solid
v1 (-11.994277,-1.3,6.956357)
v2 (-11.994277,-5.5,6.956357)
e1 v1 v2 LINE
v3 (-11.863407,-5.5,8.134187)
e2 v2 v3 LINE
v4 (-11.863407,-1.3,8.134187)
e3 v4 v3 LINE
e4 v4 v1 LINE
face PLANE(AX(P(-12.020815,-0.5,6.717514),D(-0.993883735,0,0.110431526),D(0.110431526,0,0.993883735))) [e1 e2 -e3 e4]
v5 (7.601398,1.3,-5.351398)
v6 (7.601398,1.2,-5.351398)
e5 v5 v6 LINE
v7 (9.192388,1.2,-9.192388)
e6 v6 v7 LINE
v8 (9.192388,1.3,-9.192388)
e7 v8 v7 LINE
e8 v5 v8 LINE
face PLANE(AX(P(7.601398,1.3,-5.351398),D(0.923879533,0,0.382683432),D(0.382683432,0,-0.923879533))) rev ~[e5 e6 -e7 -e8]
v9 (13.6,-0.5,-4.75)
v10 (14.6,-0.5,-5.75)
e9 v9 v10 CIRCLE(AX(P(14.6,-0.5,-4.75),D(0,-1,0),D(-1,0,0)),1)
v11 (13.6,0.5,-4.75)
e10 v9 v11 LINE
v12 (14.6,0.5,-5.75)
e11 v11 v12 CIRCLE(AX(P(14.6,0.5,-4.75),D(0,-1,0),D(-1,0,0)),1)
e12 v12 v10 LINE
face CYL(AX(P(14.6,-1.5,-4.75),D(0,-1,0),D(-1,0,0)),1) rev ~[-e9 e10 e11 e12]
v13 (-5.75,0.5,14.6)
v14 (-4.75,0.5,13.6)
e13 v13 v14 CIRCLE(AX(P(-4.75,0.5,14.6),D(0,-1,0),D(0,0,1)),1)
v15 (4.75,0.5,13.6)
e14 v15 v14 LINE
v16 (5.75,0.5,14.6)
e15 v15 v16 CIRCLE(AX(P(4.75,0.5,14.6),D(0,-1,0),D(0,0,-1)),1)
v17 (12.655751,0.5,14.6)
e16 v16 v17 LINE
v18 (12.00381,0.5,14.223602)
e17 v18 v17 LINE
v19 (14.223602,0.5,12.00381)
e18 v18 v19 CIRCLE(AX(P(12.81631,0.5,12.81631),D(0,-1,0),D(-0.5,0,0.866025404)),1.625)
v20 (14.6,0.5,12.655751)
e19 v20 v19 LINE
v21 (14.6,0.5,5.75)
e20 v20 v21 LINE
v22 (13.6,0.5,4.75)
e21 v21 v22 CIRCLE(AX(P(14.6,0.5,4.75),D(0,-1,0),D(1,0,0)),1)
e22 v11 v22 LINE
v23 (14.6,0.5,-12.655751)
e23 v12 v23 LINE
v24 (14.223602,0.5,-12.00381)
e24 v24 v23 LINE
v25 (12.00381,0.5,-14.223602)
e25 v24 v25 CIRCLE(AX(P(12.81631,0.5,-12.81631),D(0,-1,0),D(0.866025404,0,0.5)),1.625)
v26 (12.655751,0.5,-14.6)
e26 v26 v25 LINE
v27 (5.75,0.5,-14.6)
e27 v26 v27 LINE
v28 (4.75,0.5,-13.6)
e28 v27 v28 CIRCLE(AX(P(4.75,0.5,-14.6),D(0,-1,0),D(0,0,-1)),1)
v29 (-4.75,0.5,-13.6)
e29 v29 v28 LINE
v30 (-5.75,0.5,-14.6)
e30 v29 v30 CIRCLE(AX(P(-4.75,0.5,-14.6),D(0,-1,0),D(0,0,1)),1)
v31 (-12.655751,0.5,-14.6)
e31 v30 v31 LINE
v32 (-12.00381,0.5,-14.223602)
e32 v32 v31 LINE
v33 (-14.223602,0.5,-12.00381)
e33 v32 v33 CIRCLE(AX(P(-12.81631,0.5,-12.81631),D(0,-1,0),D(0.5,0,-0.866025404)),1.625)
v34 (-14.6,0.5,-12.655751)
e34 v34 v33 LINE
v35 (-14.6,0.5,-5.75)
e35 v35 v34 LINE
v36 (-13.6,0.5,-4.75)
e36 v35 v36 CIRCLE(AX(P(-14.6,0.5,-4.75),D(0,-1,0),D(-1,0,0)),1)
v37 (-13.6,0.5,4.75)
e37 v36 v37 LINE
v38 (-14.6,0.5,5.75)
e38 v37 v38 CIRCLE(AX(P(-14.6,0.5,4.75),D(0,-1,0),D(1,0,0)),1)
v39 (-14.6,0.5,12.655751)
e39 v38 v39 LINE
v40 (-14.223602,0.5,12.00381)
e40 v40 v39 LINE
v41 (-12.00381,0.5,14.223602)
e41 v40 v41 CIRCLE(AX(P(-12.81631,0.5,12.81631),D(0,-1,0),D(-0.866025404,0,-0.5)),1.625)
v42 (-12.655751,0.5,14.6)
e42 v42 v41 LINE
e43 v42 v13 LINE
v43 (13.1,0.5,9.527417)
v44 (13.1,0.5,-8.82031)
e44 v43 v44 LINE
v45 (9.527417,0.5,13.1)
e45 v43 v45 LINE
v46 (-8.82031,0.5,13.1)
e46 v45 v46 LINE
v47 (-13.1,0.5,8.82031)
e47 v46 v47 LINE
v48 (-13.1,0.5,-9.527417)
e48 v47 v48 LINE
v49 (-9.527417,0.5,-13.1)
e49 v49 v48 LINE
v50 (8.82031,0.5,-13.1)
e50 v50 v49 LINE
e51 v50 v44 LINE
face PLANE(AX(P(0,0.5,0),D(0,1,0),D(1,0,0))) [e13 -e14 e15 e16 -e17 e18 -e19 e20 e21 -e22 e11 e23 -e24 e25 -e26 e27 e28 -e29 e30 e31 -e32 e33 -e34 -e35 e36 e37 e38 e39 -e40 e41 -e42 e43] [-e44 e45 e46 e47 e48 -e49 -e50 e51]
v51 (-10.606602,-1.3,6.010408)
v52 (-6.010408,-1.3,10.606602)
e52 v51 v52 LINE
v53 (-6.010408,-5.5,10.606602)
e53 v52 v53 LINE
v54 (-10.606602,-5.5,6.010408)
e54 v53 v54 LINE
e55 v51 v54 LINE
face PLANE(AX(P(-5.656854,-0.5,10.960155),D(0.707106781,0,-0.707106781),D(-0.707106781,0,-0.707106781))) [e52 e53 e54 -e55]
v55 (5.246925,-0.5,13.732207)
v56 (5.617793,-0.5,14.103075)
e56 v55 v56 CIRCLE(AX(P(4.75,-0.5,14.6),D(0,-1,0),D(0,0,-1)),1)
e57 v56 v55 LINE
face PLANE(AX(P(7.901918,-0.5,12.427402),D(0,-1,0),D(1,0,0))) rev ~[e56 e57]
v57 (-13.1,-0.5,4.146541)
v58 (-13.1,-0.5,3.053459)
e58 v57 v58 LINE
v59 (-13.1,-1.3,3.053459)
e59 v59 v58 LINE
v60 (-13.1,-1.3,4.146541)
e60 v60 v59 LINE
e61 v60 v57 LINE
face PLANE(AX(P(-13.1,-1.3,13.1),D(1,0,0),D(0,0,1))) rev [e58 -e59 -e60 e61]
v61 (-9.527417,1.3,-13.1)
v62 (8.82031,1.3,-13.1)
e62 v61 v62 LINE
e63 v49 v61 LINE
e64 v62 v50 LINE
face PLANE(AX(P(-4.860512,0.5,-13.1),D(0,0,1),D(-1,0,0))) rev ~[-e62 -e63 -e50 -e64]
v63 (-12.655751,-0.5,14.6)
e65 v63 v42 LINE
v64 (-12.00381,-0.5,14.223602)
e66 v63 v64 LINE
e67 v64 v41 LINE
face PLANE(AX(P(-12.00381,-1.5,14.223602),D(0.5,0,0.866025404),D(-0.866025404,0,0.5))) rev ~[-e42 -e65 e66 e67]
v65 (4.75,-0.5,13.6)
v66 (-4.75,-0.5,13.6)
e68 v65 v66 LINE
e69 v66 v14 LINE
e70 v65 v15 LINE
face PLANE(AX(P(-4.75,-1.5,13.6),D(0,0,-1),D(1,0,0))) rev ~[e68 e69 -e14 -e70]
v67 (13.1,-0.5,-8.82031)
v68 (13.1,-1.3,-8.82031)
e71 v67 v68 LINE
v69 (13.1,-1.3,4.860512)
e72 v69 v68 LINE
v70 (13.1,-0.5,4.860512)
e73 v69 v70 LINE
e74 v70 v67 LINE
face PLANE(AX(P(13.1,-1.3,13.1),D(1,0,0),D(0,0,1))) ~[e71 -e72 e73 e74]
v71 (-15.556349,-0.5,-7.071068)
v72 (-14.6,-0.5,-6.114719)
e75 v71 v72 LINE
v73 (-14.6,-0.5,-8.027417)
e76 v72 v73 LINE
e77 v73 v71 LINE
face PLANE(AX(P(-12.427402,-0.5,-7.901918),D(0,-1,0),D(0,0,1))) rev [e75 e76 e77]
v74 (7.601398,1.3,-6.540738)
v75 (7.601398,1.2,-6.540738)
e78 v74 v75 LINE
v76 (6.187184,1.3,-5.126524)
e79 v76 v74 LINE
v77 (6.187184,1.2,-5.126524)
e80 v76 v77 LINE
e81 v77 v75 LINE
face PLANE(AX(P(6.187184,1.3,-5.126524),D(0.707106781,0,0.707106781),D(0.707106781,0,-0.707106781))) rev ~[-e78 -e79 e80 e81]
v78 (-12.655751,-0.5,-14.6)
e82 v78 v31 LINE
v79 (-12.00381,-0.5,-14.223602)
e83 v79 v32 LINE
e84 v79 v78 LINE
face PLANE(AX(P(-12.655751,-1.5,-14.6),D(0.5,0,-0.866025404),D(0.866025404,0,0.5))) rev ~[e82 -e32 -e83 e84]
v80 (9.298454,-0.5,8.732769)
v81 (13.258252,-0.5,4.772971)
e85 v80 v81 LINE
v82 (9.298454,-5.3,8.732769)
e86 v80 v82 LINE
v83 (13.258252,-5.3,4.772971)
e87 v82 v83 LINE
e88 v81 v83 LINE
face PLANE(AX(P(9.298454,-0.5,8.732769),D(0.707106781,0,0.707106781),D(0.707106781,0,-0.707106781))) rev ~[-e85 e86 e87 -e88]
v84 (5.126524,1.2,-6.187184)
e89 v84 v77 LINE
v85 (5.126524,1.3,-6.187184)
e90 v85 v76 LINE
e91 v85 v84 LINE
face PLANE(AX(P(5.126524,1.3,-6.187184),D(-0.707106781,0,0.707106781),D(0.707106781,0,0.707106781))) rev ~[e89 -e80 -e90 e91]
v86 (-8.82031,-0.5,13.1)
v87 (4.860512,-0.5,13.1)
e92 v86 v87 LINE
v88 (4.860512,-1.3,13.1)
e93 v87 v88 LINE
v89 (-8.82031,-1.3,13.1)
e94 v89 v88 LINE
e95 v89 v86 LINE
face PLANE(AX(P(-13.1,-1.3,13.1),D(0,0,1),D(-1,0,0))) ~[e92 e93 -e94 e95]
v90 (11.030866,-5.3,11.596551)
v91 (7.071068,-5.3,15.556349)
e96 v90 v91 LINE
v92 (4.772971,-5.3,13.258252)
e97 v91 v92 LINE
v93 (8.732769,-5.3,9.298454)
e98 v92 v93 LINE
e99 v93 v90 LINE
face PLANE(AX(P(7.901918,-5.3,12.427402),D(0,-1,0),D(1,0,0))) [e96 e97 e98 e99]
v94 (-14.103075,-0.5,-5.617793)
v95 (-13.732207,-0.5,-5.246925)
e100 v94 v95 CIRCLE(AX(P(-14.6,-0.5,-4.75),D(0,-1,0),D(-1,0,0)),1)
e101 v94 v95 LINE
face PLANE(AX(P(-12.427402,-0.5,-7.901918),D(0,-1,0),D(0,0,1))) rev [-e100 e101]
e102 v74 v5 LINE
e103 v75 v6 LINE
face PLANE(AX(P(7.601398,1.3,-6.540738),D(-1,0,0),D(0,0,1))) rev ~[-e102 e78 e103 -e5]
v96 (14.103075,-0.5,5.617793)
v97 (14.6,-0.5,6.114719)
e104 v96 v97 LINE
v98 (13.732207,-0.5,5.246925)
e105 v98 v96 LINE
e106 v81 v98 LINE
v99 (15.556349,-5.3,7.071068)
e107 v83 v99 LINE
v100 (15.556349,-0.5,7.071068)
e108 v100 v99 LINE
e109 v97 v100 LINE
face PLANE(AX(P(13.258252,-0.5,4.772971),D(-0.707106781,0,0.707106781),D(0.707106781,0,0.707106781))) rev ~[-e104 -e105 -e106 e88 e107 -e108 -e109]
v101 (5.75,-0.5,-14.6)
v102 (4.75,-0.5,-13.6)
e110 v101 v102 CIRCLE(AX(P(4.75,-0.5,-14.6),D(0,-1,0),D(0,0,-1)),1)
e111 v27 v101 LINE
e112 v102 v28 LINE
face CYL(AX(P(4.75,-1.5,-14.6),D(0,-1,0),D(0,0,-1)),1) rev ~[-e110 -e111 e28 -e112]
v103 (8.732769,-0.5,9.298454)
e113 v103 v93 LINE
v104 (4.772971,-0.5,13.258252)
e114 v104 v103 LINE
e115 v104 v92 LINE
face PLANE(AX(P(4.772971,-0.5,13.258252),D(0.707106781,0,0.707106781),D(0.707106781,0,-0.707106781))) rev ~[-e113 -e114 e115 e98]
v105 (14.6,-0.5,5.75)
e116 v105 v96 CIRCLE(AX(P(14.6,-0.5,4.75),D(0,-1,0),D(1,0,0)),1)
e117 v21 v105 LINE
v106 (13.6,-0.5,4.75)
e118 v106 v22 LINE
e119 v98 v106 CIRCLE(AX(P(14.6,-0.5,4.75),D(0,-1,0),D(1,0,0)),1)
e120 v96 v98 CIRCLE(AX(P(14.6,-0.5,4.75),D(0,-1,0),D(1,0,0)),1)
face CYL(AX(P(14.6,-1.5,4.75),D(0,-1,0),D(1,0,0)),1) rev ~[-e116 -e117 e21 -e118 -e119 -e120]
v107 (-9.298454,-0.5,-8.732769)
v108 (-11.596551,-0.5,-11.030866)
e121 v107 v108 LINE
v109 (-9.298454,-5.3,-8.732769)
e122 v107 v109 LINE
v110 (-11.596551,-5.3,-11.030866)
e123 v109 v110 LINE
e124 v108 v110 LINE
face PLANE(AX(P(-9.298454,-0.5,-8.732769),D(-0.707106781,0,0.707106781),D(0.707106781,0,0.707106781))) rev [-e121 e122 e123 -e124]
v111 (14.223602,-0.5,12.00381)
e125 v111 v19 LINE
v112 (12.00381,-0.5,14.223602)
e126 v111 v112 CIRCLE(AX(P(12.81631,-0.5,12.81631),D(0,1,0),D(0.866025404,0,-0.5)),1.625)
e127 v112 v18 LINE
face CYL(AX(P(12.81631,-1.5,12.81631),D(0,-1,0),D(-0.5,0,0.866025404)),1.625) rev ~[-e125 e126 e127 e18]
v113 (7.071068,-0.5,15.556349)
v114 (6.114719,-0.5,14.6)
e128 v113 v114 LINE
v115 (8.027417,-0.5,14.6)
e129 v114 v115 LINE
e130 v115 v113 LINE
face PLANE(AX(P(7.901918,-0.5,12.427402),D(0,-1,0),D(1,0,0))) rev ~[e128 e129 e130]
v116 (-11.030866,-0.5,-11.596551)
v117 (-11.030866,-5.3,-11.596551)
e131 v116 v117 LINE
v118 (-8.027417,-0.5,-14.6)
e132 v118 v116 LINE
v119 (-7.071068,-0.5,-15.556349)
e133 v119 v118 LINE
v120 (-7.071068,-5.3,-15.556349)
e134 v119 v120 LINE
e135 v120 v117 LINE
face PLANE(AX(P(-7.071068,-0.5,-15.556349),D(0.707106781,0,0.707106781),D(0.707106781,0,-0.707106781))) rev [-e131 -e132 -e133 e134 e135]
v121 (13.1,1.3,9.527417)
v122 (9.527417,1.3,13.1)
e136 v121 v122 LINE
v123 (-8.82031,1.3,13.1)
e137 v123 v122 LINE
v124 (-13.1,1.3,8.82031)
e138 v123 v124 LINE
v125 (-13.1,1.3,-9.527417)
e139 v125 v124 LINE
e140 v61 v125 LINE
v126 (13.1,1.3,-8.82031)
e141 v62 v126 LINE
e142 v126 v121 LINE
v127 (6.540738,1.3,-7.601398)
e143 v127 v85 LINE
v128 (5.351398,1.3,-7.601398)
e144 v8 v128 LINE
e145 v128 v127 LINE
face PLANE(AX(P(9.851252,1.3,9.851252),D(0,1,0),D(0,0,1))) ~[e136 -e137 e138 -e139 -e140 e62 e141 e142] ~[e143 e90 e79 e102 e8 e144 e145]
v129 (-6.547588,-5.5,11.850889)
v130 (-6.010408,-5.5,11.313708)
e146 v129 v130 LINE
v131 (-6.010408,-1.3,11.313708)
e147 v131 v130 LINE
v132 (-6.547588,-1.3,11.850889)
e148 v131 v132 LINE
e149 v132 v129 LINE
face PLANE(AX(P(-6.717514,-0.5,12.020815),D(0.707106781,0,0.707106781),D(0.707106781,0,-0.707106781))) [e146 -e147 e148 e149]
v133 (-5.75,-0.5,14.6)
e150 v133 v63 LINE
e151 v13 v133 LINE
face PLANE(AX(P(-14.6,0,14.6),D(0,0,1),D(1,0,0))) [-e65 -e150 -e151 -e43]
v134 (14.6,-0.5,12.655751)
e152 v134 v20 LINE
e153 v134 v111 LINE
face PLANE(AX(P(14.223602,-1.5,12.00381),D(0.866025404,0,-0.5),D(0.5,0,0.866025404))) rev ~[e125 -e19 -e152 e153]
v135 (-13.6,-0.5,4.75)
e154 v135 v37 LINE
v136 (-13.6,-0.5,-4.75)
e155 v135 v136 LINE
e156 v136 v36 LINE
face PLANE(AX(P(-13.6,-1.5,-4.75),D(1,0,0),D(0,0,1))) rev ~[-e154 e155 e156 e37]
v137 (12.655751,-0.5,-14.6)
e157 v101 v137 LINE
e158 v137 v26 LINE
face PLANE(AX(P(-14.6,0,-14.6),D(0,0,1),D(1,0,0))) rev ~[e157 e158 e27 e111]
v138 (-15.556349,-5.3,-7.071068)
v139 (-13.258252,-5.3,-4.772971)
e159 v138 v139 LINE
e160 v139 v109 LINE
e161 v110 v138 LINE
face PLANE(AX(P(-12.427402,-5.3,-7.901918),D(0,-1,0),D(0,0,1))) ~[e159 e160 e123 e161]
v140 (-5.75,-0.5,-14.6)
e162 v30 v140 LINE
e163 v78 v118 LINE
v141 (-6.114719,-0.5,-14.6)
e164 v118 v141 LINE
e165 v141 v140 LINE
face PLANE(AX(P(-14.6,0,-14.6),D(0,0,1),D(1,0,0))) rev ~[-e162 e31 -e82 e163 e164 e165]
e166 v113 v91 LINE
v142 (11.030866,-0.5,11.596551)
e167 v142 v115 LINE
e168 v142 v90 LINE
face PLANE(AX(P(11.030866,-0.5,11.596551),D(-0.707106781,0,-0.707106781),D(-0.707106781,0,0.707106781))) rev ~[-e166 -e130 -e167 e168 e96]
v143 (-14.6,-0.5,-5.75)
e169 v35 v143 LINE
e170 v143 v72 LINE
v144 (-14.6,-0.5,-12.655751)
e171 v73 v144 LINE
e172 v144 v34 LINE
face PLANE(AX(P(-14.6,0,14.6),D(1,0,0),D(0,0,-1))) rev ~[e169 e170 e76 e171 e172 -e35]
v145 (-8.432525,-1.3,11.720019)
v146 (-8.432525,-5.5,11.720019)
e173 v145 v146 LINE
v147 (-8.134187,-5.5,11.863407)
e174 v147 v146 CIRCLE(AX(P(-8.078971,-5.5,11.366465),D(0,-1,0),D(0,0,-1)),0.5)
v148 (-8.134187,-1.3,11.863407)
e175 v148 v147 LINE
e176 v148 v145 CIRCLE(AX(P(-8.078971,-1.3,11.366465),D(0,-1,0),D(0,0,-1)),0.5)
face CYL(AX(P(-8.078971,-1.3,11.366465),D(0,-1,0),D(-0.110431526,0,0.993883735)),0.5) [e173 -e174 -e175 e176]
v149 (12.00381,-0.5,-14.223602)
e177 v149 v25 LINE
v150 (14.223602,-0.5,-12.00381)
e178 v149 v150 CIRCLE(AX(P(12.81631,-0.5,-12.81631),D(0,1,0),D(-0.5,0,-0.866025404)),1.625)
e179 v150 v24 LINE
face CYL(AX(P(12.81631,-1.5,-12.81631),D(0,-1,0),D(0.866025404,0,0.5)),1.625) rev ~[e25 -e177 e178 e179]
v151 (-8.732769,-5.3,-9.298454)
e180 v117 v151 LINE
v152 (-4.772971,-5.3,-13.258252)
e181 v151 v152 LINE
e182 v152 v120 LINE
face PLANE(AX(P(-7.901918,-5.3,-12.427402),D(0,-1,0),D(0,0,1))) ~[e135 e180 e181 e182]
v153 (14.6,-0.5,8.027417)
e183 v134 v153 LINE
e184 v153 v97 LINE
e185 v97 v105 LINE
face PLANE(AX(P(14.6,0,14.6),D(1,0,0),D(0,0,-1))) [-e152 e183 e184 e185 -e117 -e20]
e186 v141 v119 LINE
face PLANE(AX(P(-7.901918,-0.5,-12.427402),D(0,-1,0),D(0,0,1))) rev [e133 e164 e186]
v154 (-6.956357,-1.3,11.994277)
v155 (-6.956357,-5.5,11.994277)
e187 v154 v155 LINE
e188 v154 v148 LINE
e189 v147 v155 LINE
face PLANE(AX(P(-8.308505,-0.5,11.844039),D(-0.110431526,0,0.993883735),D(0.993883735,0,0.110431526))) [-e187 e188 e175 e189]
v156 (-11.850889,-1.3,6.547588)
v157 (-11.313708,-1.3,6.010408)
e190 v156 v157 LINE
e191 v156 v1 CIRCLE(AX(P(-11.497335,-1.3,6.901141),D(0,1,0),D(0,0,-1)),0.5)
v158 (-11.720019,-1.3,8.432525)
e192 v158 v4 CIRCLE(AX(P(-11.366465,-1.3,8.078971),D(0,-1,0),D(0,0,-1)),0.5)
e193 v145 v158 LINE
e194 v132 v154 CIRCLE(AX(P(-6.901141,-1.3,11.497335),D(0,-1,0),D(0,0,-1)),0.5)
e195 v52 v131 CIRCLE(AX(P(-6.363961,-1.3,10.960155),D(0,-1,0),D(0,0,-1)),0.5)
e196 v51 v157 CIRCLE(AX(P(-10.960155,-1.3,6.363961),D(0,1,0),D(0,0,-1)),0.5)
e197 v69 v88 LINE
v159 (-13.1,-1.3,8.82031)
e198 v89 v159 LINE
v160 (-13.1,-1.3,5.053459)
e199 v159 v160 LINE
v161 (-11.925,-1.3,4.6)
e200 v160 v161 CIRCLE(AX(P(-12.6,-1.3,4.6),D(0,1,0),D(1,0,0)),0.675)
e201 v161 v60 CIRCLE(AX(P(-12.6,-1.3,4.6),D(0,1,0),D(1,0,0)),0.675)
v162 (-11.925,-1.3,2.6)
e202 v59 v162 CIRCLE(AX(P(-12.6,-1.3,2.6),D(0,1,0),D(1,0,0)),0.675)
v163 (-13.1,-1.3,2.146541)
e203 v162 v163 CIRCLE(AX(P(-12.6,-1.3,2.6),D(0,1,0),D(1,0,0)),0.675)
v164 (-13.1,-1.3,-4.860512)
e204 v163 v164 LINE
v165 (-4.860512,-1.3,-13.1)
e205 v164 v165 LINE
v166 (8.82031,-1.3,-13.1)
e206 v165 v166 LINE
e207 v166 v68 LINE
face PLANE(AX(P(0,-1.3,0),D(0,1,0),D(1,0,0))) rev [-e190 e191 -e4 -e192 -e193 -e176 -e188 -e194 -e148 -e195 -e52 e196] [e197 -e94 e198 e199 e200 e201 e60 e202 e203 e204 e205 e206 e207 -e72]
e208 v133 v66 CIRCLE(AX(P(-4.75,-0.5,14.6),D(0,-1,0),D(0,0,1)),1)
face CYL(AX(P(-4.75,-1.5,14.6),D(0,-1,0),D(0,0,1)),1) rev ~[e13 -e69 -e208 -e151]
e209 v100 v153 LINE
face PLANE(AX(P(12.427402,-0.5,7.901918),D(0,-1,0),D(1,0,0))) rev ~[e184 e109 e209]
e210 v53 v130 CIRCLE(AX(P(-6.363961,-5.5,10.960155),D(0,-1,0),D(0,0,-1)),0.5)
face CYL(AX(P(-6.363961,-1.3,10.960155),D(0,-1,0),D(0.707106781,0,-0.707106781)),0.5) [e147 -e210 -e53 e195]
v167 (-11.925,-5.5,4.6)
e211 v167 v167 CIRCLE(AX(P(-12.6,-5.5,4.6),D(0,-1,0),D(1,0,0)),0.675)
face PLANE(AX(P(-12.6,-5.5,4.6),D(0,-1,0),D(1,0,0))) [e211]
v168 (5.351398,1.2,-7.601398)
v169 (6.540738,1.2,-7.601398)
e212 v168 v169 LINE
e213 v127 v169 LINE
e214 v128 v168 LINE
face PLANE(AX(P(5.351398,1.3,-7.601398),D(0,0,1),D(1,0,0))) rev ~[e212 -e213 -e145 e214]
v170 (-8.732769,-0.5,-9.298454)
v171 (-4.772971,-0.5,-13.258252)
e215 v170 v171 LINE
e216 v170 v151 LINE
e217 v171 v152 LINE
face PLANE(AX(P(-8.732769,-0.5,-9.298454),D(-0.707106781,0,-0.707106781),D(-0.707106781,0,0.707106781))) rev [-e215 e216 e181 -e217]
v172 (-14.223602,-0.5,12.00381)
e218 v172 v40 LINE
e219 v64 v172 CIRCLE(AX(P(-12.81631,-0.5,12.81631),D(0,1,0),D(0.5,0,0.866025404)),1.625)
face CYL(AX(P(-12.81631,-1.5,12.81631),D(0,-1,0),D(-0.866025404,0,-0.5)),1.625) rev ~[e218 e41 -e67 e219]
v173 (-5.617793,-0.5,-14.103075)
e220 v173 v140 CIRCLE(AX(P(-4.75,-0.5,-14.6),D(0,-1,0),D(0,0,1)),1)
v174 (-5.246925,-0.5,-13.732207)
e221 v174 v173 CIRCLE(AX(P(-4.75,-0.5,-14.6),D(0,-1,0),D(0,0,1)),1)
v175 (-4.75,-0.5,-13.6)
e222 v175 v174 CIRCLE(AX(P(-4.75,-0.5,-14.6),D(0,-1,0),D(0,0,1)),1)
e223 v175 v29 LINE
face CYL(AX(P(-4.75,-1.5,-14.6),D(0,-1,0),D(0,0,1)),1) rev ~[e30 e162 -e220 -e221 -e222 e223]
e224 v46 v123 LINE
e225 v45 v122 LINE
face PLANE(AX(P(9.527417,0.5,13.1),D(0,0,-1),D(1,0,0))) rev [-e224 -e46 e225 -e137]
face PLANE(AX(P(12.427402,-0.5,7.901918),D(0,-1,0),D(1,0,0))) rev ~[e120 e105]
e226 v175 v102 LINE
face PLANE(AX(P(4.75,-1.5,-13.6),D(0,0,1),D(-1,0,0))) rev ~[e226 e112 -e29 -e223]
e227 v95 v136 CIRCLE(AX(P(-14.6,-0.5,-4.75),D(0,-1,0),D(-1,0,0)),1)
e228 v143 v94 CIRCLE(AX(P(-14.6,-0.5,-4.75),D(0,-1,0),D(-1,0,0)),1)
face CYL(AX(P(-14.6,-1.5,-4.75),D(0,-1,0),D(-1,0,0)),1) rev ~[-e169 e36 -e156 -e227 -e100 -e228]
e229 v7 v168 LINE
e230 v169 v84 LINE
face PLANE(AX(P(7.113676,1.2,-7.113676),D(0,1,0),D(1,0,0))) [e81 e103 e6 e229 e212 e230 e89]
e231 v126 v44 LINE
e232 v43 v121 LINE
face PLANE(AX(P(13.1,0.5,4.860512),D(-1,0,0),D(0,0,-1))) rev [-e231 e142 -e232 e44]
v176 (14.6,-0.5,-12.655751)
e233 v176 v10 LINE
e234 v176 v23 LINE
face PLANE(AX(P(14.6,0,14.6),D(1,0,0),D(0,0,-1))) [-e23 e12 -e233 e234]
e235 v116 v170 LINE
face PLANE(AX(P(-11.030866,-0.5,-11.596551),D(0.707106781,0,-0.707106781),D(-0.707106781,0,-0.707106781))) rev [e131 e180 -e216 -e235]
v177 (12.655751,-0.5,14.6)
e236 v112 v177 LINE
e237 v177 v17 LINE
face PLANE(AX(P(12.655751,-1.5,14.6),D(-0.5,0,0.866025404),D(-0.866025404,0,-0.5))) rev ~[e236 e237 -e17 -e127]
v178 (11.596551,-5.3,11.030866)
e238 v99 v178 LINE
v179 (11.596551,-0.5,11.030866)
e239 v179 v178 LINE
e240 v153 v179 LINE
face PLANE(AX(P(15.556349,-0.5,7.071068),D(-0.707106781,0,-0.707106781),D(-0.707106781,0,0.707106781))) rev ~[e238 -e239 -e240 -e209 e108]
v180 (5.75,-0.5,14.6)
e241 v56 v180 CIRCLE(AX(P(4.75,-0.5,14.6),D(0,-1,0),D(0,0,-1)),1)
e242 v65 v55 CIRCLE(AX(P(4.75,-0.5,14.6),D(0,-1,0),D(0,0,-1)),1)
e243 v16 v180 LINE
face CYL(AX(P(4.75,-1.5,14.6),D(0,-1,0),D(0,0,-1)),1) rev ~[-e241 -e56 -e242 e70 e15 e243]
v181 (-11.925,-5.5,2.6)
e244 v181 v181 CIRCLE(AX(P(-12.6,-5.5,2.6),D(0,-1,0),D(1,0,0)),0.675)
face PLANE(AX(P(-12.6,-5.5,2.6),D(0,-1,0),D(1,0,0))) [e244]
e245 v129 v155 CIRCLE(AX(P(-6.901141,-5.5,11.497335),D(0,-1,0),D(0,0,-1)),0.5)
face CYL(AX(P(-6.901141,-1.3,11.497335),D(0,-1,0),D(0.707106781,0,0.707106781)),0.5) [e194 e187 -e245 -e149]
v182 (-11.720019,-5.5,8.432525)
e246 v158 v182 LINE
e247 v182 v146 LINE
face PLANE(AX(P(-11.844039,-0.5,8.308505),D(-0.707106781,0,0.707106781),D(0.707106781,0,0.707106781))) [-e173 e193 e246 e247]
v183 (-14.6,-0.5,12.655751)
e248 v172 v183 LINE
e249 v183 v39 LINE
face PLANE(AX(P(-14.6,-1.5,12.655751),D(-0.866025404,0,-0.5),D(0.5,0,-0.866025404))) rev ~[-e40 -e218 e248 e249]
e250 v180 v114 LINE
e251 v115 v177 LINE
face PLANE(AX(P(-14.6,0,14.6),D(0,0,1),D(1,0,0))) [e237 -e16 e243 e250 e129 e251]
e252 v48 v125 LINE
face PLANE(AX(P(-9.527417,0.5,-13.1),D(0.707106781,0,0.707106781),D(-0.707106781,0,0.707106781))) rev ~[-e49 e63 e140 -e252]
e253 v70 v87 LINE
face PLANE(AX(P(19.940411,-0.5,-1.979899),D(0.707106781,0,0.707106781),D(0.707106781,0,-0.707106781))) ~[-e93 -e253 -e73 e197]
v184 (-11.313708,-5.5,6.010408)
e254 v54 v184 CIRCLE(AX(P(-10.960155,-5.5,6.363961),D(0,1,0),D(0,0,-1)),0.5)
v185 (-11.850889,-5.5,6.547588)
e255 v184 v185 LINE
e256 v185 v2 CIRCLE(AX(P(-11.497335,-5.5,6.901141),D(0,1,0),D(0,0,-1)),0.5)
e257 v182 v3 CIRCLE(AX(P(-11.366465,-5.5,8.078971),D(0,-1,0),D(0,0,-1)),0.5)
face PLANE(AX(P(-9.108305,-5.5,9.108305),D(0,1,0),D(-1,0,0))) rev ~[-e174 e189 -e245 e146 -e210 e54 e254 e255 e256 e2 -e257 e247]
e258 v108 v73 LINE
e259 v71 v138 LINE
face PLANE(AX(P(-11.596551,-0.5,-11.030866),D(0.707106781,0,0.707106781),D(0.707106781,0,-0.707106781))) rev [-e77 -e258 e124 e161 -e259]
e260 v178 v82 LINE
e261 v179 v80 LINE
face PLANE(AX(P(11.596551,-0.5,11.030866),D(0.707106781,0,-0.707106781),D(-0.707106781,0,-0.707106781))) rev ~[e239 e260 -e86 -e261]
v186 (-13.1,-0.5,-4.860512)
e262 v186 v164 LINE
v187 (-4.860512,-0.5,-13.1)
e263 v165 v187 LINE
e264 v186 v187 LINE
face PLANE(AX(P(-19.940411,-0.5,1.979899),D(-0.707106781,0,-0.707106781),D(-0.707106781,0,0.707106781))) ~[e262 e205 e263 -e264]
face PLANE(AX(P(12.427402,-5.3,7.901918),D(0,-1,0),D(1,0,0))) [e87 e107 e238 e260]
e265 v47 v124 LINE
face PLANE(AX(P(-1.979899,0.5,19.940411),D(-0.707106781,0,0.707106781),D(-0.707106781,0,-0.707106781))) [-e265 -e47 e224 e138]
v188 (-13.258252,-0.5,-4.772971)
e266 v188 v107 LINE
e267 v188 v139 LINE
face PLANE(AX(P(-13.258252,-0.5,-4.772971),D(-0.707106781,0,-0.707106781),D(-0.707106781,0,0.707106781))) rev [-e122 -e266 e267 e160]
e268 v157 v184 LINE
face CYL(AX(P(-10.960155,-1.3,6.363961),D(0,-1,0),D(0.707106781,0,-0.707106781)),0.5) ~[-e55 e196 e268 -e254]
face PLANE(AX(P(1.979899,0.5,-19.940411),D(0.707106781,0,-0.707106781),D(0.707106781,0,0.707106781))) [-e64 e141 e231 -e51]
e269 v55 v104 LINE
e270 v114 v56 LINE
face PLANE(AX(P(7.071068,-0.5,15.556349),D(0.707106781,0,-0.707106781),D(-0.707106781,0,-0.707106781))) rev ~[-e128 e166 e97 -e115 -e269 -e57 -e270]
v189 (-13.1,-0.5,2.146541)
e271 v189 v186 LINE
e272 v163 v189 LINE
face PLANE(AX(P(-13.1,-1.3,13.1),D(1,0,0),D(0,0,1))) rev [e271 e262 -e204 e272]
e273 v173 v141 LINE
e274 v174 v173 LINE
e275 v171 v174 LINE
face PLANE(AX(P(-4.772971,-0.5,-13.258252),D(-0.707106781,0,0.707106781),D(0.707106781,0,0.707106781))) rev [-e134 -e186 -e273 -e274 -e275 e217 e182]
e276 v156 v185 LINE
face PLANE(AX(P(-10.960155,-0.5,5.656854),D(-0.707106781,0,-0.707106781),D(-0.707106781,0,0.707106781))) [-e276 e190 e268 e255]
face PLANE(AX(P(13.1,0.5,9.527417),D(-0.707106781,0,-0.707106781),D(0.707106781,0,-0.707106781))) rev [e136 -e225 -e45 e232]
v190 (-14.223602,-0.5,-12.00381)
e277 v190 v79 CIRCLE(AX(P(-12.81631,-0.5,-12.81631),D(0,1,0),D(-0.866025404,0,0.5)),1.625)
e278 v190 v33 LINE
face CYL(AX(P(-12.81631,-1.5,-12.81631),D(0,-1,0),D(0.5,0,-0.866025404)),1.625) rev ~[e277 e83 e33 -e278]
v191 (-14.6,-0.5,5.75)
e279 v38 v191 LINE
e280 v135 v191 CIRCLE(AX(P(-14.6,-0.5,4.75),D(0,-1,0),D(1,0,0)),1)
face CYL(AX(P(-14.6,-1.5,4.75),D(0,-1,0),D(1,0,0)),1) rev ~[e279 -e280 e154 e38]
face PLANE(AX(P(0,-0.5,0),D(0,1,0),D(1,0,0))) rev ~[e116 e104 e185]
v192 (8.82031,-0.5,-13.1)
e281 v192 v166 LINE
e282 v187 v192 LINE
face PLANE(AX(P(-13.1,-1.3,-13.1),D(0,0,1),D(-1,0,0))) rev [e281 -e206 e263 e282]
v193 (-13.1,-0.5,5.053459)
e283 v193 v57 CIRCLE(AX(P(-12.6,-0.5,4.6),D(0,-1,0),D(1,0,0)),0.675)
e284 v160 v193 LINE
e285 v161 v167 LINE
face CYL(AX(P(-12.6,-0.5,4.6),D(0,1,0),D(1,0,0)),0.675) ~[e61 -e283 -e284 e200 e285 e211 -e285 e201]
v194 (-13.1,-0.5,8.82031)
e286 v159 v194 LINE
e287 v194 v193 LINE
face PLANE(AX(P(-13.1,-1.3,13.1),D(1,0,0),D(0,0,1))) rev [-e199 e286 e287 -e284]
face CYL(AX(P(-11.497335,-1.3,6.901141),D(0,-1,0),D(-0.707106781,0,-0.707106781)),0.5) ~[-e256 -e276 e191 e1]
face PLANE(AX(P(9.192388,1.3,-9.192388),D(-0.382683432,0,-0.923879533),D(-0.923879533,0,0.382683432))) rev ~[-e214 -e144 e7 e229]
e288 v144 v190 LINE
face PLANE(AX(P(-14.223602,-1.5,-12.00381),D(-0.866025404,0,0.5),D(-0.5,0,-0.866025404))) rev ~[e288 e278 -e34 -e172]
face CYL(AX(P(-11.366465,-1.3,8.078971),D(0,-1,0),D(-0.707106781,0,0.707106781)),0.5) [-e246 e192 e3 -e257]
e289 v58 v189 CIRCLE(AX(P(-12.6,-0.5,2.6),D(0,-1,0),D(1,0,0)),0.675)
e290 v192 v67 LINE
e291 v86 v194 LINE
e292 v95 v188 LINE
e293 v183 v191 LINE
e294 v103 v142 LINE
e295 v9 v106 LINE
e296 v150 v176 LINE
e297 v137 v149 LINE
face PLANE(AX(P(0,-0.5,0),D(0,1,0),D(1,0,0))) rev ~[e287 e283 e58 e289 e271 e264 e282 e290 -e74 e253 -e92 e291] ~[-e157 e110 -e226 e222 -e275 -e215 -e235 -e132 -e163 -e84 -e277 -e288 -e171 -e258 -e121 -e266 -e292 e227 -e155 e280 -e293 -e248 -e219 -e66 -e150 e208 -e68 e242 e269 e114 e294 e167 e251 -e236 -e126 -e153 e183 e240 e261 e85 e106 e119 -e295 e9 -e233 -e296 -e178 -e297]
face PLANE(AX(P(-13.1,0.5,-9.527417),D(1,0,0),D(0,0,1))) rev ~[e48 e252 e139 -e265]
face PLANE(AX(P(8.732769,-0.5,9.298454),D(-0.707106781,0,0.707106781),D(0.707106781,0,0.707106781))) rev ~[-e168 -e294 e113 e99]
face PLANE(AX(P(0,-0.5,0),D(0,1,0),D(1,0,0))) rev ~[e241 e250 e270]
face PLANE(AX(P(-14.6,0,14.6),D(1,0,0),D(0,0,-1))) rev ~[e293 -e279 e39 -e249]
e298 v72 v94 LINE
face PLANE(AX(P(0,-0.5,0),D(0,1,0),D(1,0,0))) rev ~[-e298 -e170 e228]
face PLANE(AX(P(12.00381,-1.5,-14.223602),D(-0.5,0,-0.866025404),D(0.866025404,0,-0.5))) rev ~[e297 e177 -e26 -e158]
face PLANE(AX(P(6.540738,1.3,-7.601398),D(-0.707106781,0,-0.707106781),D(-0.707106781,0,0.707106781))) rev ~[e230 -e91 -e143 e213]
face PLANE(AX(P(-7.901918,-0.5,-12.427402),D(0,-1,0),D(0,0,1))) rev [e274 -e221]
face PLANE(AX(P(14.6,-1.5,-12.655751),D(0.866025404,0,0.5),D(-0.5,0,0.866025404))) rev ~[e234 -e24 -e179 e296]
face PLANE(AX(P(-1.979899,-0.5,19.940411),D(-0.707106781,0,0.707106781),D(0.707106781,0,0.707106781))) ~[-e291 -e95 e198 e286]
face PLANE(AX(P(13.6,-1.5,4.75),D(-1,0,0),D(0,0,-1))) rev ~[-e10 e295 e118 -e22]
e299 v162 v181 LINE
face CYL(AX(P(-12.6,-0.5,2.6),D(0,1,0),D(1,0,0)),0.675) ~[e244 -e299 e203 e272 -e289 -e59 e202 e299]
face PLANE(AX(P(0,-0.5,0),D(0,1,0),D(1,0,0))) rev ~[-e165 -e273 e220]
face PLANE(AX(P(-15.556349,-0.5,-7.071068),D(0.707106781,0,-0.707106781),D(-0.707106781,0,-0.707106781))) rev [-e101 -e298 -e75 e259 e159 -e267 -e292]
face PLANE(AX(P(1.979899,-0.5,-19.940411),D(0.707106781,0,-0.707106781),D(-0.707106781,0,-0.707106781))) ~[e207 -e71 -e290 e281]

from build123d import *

# Parameters (mm, degrees)
SKETCH1_W            = 29.2
SKETCH1_H            = 29.2
BOSS_EXTRUDE1_DEPTH  = 0.5
CUT_EXTRUDE1_START   = -2
CUT_EXTRUDE1_DEPTH   = 3
BOSS_EXTRUDE3_DEPTH  = 0.8
CUT_EXTRUDE4_START   = -1.5
CUT_EXTRUDE4_DEPTH   = 3.8
SKETCH10_OUTSIDE_W   = 53.166
SKETCH10_OUTSIDE_H   = 53.166
SKETCH10_OUTSIDE_W_2 = 26.2
SKETCH10_OUTSIDE_H_2 = 26.2
CUT_EXTRUDE9_DEPTH   = 0.8
CIRPATTERN1_COUNT    = 4
BOSS_EXTRUDE2_DEPTH  = 4.8
BOSS_EXTRUDE4_DEPTH  = 0.8
CUT_EXTRUDE10_DEPTH  = 0.1
BOSS_EXTRUDE5_DEPTH  = 5
FILLET1_R            = 0.5
SKETCH14_R           = 0.675
BOSS_EXTRUDE7_DEPTH  = 5


with BuildPart() as part:
    # Sketch1 → Boss-Extrude1 (new body, symmetric)
    with BuildSketch(Plane(origin=(0, 0, 0), x_dir=(1, 0, 0), z_dir=(0, 1, 0))):
        Rectangle(SKETCH1_W, SKETCH1_H)
    extrude(amount=BOSS_EXTRUDE1_DEPTH, both=True)

    # Sketch2 → Cut-Extrude1 (cut)
    with BuildSketch(Plane(origin=(0, 0.5, 0), x_dir=(1, 0, 0), z_dir=(0, 1, 0)).offset(CUT_EXTRUDE1_START)):
        with BuildLine():
            Line((-13.6, 4.75), (-13.6, -4.75))
            ThreePointArc((-13.6, -4.75), (-14.6, -5.75), (-15.6, -4.75))
            Line((-15.6, -4.75), (-15.6, 4.75))
            ThreePointArc((-15.6, 4.75), (-14.6, 5.75), (-13.6, 4.75))
        make_face()
    cut_extrude1 = extrude(amount=CUT_EXTRUDE1_DEPTH, mode=Mode.SUBTRACT)

    # Sketch6 → Boss-Extrude3 (add)
    with BuildSketch(Plane(origin=(0, 0.5, 0), x_dir=(1, 0, 0), z_dir=(0, 1, 0))):
        Polygon((19.940411229, 1.979898987), (-1.979898987, -19.940411229), (-19.940411229, -1.979898987), (1.979898987, 19.940411229), align=None)
    boss_extrude3 = extrude(amount=BOSS_EXTRUDE3_DEPTH)

    # Sketch4 → Cut-Extrude4 (cut)
    with BuildSketch(Plane(origin=(0, 0, 0), x_dir=(1, 0, 0), z_dir=(0, 1, 0)).offset(CUT_EXTRUDE4_START)):
        with BuildLine():
            Line((-14.22360169, 12.003810409), (-14.6, 12.655751406))
            Line((-14.6, 12.655751406), (-14.6, 14.6))
            Line((-14.6, 14.6), (-12.655751406, 14.6))
            Line((-12.655751406, 14.6), (-12.003810409, 14.22360169))
            ThreePointArc((-12.003810409, 14.22360169), (-11.66726189, 11.66726189), (-14.22360169, 12.003810409))
        make_face()
    cut_extrude4 = extrude(amount=CUT_EXTRUDE4_DEPTH, mode=Mode.SUBTRACT)

    # Sketch10 outside → Cut-Extrude9 (cut)
    with BuildSketch(Plane(origin=(0, 1.3, 0), x_dir=(1, 0, 0), z_dir=(0, 1, 0))):
        Rectangle(SKETCH10_OUTSIDE_W, SKETCH10_OUTSIDE_H)
        Rectangle(SKETCH10_OUTSIDE_W_2, SKETCH10_OUTSIDE_H_2, mode=Mode.SUBTRACT)
    cut_extrude9 = extrude(amount=-CUT_EXTRUDE9_DEPTH, mode=Mode.SUBTRACT)

    # CirPattern1: Cut-Extrude1, Cut-Extrude4 ×4 about axis
    cirpattern1_axis = Axis((0, 0, 0), (0, 1, 0))
    for i in range(1, CIRPATTERN1_COUNT):
        add(cut_extrude1.rotate(cirpattern1_axis, i * 360 / CIRPATTERN1_COUNT), mode=Mode.SUBTRACT)
        add(cut_extrude4.rotate(cirpattern1_axis, i * 360 / CIRPATTERN1_COUNT), mode=Mode.SUBTRACT)

    # Mirror3: Boss-Extrude3, Cut-Extrude9 across plane
    add(boss_extrude3.mirror(Plane.ZX))
    add(cut_extrude9.mirror(Plane.ZX), mode=Mode.SUBTRACT)

    # Sketch5 → Boss-Extrude2 (add)
    with BuildSketch(Plane.XZ.offset(0.5)):
        Polygon((4.772970773, 13.258252147), (8.732768748, 9.298454173), (11.030865787, 11.596551211), (7.071067812, 15.556349186), align=None)
        Polygon((9.298454173, 8.732768748), (13.258252147, 4.772970773), (15.556349186, 7.071067812), (11.596551211, 11.030865787), align=None)
    boss_extrude2 = extrude(amount=BOSS_EXTRUDE2_DEPTH)

    # Mirror1: Boss-Extrude2 across plane
    add(boss_extrude2.mirror(Plane(origin=(0, 0, 0), x_dir=(-0.707106781, 0, 0.707106781), z_dir=(0.707106781, 0, 0.707106781))))

    # Sketch11 → Boss-Extrude4 (add)
    with BuildSketch(Plane(origin=(0, 0.5, 0), x_dir=(1, 0, 0), z_dir=(0, 1, 0))):
        Polygon((-4.860512242, 13.1), (-9.527416998, 13.1), (-13.1, 9.527416998), (-13.1, 4.860512242), align=None)
    boss_extrude4 = extrude(amount=BOSS_EXTRUDE4_DEPTH)

    # Mirror4: Boss-Extrude4 across plane
    add(boss_extrude4.mirror(Plane(origin=(0, 0, 0), x_dir=(-0.707106781, 0, 0.707106781), z_dir=(0.707106781, 0, 0.707106781))))

    # Sketch12 → Cut-Extrude10 (cut)
    with BuildSketch(Plane(origin=(0, 1.3, 0), x_dir=(1, 0, 0), z_dir=(0, 1, 0))):
        Polygon((9.192388155, 9.192388155), (5.351397898, 7.601397898), (6.540737726, 7.601397898), (5.126524164, 6.187184335), (6.187184335, 5.126524164), (7.601397898, 6.540737726), (7.601397898, 5.351397898), align=None)
    extrude(amount=-CUT_EXTRUDE10_DEPTH, mode=Mode.SUBTRACT)

    # Sketch13 → Boss-Extrude5 (add)
    with BuildSketch(Plane.XZ.offset(0.5)):
        Polygon((-5.656854249, 10.960155108), (-10.960155108, 5.656854249), (-12.02081528, 6.717514421), (-11.844038585, 8.308504679), (-8.308504679, 11.844038585), (-6.717514421, 12.02081528), align=None)
    extrude(amount=BOSS_EXTRUDE5_DEPTH)

    # Fillet1
    fillet1_edges = [part.edges().sort_by_distance(p)[0] for p in [
        (-5.656854249, -3.4, 10.960155108),
        (-6.717514421, -3.4, 12.02081528),
        (-8.308504679, -3.4, 11.844038585),
        (-11.844038585, -3.4, 8.308504679),
        (-12.02081528, -3.4, 6.717514421),
        (-10.960155108, -3.4, 5.656854249),
    ]]
    fillet(fillet1_edges, radius=FILLET1_R)

    # Sketch14 → Boss-Extrude7 (add)
    with BuildSketch(Plane.XZ.offset(0.5)):
        with Locations((-12.6, 2.6)):
            Circle(SKETCH14_R)
        with Locations((-12.6, 4.6)):
            Circle(SKETCH14_R)
    extrude(amount=BOSS_EXTRUDE7_DEPTH)


solid = part.part
